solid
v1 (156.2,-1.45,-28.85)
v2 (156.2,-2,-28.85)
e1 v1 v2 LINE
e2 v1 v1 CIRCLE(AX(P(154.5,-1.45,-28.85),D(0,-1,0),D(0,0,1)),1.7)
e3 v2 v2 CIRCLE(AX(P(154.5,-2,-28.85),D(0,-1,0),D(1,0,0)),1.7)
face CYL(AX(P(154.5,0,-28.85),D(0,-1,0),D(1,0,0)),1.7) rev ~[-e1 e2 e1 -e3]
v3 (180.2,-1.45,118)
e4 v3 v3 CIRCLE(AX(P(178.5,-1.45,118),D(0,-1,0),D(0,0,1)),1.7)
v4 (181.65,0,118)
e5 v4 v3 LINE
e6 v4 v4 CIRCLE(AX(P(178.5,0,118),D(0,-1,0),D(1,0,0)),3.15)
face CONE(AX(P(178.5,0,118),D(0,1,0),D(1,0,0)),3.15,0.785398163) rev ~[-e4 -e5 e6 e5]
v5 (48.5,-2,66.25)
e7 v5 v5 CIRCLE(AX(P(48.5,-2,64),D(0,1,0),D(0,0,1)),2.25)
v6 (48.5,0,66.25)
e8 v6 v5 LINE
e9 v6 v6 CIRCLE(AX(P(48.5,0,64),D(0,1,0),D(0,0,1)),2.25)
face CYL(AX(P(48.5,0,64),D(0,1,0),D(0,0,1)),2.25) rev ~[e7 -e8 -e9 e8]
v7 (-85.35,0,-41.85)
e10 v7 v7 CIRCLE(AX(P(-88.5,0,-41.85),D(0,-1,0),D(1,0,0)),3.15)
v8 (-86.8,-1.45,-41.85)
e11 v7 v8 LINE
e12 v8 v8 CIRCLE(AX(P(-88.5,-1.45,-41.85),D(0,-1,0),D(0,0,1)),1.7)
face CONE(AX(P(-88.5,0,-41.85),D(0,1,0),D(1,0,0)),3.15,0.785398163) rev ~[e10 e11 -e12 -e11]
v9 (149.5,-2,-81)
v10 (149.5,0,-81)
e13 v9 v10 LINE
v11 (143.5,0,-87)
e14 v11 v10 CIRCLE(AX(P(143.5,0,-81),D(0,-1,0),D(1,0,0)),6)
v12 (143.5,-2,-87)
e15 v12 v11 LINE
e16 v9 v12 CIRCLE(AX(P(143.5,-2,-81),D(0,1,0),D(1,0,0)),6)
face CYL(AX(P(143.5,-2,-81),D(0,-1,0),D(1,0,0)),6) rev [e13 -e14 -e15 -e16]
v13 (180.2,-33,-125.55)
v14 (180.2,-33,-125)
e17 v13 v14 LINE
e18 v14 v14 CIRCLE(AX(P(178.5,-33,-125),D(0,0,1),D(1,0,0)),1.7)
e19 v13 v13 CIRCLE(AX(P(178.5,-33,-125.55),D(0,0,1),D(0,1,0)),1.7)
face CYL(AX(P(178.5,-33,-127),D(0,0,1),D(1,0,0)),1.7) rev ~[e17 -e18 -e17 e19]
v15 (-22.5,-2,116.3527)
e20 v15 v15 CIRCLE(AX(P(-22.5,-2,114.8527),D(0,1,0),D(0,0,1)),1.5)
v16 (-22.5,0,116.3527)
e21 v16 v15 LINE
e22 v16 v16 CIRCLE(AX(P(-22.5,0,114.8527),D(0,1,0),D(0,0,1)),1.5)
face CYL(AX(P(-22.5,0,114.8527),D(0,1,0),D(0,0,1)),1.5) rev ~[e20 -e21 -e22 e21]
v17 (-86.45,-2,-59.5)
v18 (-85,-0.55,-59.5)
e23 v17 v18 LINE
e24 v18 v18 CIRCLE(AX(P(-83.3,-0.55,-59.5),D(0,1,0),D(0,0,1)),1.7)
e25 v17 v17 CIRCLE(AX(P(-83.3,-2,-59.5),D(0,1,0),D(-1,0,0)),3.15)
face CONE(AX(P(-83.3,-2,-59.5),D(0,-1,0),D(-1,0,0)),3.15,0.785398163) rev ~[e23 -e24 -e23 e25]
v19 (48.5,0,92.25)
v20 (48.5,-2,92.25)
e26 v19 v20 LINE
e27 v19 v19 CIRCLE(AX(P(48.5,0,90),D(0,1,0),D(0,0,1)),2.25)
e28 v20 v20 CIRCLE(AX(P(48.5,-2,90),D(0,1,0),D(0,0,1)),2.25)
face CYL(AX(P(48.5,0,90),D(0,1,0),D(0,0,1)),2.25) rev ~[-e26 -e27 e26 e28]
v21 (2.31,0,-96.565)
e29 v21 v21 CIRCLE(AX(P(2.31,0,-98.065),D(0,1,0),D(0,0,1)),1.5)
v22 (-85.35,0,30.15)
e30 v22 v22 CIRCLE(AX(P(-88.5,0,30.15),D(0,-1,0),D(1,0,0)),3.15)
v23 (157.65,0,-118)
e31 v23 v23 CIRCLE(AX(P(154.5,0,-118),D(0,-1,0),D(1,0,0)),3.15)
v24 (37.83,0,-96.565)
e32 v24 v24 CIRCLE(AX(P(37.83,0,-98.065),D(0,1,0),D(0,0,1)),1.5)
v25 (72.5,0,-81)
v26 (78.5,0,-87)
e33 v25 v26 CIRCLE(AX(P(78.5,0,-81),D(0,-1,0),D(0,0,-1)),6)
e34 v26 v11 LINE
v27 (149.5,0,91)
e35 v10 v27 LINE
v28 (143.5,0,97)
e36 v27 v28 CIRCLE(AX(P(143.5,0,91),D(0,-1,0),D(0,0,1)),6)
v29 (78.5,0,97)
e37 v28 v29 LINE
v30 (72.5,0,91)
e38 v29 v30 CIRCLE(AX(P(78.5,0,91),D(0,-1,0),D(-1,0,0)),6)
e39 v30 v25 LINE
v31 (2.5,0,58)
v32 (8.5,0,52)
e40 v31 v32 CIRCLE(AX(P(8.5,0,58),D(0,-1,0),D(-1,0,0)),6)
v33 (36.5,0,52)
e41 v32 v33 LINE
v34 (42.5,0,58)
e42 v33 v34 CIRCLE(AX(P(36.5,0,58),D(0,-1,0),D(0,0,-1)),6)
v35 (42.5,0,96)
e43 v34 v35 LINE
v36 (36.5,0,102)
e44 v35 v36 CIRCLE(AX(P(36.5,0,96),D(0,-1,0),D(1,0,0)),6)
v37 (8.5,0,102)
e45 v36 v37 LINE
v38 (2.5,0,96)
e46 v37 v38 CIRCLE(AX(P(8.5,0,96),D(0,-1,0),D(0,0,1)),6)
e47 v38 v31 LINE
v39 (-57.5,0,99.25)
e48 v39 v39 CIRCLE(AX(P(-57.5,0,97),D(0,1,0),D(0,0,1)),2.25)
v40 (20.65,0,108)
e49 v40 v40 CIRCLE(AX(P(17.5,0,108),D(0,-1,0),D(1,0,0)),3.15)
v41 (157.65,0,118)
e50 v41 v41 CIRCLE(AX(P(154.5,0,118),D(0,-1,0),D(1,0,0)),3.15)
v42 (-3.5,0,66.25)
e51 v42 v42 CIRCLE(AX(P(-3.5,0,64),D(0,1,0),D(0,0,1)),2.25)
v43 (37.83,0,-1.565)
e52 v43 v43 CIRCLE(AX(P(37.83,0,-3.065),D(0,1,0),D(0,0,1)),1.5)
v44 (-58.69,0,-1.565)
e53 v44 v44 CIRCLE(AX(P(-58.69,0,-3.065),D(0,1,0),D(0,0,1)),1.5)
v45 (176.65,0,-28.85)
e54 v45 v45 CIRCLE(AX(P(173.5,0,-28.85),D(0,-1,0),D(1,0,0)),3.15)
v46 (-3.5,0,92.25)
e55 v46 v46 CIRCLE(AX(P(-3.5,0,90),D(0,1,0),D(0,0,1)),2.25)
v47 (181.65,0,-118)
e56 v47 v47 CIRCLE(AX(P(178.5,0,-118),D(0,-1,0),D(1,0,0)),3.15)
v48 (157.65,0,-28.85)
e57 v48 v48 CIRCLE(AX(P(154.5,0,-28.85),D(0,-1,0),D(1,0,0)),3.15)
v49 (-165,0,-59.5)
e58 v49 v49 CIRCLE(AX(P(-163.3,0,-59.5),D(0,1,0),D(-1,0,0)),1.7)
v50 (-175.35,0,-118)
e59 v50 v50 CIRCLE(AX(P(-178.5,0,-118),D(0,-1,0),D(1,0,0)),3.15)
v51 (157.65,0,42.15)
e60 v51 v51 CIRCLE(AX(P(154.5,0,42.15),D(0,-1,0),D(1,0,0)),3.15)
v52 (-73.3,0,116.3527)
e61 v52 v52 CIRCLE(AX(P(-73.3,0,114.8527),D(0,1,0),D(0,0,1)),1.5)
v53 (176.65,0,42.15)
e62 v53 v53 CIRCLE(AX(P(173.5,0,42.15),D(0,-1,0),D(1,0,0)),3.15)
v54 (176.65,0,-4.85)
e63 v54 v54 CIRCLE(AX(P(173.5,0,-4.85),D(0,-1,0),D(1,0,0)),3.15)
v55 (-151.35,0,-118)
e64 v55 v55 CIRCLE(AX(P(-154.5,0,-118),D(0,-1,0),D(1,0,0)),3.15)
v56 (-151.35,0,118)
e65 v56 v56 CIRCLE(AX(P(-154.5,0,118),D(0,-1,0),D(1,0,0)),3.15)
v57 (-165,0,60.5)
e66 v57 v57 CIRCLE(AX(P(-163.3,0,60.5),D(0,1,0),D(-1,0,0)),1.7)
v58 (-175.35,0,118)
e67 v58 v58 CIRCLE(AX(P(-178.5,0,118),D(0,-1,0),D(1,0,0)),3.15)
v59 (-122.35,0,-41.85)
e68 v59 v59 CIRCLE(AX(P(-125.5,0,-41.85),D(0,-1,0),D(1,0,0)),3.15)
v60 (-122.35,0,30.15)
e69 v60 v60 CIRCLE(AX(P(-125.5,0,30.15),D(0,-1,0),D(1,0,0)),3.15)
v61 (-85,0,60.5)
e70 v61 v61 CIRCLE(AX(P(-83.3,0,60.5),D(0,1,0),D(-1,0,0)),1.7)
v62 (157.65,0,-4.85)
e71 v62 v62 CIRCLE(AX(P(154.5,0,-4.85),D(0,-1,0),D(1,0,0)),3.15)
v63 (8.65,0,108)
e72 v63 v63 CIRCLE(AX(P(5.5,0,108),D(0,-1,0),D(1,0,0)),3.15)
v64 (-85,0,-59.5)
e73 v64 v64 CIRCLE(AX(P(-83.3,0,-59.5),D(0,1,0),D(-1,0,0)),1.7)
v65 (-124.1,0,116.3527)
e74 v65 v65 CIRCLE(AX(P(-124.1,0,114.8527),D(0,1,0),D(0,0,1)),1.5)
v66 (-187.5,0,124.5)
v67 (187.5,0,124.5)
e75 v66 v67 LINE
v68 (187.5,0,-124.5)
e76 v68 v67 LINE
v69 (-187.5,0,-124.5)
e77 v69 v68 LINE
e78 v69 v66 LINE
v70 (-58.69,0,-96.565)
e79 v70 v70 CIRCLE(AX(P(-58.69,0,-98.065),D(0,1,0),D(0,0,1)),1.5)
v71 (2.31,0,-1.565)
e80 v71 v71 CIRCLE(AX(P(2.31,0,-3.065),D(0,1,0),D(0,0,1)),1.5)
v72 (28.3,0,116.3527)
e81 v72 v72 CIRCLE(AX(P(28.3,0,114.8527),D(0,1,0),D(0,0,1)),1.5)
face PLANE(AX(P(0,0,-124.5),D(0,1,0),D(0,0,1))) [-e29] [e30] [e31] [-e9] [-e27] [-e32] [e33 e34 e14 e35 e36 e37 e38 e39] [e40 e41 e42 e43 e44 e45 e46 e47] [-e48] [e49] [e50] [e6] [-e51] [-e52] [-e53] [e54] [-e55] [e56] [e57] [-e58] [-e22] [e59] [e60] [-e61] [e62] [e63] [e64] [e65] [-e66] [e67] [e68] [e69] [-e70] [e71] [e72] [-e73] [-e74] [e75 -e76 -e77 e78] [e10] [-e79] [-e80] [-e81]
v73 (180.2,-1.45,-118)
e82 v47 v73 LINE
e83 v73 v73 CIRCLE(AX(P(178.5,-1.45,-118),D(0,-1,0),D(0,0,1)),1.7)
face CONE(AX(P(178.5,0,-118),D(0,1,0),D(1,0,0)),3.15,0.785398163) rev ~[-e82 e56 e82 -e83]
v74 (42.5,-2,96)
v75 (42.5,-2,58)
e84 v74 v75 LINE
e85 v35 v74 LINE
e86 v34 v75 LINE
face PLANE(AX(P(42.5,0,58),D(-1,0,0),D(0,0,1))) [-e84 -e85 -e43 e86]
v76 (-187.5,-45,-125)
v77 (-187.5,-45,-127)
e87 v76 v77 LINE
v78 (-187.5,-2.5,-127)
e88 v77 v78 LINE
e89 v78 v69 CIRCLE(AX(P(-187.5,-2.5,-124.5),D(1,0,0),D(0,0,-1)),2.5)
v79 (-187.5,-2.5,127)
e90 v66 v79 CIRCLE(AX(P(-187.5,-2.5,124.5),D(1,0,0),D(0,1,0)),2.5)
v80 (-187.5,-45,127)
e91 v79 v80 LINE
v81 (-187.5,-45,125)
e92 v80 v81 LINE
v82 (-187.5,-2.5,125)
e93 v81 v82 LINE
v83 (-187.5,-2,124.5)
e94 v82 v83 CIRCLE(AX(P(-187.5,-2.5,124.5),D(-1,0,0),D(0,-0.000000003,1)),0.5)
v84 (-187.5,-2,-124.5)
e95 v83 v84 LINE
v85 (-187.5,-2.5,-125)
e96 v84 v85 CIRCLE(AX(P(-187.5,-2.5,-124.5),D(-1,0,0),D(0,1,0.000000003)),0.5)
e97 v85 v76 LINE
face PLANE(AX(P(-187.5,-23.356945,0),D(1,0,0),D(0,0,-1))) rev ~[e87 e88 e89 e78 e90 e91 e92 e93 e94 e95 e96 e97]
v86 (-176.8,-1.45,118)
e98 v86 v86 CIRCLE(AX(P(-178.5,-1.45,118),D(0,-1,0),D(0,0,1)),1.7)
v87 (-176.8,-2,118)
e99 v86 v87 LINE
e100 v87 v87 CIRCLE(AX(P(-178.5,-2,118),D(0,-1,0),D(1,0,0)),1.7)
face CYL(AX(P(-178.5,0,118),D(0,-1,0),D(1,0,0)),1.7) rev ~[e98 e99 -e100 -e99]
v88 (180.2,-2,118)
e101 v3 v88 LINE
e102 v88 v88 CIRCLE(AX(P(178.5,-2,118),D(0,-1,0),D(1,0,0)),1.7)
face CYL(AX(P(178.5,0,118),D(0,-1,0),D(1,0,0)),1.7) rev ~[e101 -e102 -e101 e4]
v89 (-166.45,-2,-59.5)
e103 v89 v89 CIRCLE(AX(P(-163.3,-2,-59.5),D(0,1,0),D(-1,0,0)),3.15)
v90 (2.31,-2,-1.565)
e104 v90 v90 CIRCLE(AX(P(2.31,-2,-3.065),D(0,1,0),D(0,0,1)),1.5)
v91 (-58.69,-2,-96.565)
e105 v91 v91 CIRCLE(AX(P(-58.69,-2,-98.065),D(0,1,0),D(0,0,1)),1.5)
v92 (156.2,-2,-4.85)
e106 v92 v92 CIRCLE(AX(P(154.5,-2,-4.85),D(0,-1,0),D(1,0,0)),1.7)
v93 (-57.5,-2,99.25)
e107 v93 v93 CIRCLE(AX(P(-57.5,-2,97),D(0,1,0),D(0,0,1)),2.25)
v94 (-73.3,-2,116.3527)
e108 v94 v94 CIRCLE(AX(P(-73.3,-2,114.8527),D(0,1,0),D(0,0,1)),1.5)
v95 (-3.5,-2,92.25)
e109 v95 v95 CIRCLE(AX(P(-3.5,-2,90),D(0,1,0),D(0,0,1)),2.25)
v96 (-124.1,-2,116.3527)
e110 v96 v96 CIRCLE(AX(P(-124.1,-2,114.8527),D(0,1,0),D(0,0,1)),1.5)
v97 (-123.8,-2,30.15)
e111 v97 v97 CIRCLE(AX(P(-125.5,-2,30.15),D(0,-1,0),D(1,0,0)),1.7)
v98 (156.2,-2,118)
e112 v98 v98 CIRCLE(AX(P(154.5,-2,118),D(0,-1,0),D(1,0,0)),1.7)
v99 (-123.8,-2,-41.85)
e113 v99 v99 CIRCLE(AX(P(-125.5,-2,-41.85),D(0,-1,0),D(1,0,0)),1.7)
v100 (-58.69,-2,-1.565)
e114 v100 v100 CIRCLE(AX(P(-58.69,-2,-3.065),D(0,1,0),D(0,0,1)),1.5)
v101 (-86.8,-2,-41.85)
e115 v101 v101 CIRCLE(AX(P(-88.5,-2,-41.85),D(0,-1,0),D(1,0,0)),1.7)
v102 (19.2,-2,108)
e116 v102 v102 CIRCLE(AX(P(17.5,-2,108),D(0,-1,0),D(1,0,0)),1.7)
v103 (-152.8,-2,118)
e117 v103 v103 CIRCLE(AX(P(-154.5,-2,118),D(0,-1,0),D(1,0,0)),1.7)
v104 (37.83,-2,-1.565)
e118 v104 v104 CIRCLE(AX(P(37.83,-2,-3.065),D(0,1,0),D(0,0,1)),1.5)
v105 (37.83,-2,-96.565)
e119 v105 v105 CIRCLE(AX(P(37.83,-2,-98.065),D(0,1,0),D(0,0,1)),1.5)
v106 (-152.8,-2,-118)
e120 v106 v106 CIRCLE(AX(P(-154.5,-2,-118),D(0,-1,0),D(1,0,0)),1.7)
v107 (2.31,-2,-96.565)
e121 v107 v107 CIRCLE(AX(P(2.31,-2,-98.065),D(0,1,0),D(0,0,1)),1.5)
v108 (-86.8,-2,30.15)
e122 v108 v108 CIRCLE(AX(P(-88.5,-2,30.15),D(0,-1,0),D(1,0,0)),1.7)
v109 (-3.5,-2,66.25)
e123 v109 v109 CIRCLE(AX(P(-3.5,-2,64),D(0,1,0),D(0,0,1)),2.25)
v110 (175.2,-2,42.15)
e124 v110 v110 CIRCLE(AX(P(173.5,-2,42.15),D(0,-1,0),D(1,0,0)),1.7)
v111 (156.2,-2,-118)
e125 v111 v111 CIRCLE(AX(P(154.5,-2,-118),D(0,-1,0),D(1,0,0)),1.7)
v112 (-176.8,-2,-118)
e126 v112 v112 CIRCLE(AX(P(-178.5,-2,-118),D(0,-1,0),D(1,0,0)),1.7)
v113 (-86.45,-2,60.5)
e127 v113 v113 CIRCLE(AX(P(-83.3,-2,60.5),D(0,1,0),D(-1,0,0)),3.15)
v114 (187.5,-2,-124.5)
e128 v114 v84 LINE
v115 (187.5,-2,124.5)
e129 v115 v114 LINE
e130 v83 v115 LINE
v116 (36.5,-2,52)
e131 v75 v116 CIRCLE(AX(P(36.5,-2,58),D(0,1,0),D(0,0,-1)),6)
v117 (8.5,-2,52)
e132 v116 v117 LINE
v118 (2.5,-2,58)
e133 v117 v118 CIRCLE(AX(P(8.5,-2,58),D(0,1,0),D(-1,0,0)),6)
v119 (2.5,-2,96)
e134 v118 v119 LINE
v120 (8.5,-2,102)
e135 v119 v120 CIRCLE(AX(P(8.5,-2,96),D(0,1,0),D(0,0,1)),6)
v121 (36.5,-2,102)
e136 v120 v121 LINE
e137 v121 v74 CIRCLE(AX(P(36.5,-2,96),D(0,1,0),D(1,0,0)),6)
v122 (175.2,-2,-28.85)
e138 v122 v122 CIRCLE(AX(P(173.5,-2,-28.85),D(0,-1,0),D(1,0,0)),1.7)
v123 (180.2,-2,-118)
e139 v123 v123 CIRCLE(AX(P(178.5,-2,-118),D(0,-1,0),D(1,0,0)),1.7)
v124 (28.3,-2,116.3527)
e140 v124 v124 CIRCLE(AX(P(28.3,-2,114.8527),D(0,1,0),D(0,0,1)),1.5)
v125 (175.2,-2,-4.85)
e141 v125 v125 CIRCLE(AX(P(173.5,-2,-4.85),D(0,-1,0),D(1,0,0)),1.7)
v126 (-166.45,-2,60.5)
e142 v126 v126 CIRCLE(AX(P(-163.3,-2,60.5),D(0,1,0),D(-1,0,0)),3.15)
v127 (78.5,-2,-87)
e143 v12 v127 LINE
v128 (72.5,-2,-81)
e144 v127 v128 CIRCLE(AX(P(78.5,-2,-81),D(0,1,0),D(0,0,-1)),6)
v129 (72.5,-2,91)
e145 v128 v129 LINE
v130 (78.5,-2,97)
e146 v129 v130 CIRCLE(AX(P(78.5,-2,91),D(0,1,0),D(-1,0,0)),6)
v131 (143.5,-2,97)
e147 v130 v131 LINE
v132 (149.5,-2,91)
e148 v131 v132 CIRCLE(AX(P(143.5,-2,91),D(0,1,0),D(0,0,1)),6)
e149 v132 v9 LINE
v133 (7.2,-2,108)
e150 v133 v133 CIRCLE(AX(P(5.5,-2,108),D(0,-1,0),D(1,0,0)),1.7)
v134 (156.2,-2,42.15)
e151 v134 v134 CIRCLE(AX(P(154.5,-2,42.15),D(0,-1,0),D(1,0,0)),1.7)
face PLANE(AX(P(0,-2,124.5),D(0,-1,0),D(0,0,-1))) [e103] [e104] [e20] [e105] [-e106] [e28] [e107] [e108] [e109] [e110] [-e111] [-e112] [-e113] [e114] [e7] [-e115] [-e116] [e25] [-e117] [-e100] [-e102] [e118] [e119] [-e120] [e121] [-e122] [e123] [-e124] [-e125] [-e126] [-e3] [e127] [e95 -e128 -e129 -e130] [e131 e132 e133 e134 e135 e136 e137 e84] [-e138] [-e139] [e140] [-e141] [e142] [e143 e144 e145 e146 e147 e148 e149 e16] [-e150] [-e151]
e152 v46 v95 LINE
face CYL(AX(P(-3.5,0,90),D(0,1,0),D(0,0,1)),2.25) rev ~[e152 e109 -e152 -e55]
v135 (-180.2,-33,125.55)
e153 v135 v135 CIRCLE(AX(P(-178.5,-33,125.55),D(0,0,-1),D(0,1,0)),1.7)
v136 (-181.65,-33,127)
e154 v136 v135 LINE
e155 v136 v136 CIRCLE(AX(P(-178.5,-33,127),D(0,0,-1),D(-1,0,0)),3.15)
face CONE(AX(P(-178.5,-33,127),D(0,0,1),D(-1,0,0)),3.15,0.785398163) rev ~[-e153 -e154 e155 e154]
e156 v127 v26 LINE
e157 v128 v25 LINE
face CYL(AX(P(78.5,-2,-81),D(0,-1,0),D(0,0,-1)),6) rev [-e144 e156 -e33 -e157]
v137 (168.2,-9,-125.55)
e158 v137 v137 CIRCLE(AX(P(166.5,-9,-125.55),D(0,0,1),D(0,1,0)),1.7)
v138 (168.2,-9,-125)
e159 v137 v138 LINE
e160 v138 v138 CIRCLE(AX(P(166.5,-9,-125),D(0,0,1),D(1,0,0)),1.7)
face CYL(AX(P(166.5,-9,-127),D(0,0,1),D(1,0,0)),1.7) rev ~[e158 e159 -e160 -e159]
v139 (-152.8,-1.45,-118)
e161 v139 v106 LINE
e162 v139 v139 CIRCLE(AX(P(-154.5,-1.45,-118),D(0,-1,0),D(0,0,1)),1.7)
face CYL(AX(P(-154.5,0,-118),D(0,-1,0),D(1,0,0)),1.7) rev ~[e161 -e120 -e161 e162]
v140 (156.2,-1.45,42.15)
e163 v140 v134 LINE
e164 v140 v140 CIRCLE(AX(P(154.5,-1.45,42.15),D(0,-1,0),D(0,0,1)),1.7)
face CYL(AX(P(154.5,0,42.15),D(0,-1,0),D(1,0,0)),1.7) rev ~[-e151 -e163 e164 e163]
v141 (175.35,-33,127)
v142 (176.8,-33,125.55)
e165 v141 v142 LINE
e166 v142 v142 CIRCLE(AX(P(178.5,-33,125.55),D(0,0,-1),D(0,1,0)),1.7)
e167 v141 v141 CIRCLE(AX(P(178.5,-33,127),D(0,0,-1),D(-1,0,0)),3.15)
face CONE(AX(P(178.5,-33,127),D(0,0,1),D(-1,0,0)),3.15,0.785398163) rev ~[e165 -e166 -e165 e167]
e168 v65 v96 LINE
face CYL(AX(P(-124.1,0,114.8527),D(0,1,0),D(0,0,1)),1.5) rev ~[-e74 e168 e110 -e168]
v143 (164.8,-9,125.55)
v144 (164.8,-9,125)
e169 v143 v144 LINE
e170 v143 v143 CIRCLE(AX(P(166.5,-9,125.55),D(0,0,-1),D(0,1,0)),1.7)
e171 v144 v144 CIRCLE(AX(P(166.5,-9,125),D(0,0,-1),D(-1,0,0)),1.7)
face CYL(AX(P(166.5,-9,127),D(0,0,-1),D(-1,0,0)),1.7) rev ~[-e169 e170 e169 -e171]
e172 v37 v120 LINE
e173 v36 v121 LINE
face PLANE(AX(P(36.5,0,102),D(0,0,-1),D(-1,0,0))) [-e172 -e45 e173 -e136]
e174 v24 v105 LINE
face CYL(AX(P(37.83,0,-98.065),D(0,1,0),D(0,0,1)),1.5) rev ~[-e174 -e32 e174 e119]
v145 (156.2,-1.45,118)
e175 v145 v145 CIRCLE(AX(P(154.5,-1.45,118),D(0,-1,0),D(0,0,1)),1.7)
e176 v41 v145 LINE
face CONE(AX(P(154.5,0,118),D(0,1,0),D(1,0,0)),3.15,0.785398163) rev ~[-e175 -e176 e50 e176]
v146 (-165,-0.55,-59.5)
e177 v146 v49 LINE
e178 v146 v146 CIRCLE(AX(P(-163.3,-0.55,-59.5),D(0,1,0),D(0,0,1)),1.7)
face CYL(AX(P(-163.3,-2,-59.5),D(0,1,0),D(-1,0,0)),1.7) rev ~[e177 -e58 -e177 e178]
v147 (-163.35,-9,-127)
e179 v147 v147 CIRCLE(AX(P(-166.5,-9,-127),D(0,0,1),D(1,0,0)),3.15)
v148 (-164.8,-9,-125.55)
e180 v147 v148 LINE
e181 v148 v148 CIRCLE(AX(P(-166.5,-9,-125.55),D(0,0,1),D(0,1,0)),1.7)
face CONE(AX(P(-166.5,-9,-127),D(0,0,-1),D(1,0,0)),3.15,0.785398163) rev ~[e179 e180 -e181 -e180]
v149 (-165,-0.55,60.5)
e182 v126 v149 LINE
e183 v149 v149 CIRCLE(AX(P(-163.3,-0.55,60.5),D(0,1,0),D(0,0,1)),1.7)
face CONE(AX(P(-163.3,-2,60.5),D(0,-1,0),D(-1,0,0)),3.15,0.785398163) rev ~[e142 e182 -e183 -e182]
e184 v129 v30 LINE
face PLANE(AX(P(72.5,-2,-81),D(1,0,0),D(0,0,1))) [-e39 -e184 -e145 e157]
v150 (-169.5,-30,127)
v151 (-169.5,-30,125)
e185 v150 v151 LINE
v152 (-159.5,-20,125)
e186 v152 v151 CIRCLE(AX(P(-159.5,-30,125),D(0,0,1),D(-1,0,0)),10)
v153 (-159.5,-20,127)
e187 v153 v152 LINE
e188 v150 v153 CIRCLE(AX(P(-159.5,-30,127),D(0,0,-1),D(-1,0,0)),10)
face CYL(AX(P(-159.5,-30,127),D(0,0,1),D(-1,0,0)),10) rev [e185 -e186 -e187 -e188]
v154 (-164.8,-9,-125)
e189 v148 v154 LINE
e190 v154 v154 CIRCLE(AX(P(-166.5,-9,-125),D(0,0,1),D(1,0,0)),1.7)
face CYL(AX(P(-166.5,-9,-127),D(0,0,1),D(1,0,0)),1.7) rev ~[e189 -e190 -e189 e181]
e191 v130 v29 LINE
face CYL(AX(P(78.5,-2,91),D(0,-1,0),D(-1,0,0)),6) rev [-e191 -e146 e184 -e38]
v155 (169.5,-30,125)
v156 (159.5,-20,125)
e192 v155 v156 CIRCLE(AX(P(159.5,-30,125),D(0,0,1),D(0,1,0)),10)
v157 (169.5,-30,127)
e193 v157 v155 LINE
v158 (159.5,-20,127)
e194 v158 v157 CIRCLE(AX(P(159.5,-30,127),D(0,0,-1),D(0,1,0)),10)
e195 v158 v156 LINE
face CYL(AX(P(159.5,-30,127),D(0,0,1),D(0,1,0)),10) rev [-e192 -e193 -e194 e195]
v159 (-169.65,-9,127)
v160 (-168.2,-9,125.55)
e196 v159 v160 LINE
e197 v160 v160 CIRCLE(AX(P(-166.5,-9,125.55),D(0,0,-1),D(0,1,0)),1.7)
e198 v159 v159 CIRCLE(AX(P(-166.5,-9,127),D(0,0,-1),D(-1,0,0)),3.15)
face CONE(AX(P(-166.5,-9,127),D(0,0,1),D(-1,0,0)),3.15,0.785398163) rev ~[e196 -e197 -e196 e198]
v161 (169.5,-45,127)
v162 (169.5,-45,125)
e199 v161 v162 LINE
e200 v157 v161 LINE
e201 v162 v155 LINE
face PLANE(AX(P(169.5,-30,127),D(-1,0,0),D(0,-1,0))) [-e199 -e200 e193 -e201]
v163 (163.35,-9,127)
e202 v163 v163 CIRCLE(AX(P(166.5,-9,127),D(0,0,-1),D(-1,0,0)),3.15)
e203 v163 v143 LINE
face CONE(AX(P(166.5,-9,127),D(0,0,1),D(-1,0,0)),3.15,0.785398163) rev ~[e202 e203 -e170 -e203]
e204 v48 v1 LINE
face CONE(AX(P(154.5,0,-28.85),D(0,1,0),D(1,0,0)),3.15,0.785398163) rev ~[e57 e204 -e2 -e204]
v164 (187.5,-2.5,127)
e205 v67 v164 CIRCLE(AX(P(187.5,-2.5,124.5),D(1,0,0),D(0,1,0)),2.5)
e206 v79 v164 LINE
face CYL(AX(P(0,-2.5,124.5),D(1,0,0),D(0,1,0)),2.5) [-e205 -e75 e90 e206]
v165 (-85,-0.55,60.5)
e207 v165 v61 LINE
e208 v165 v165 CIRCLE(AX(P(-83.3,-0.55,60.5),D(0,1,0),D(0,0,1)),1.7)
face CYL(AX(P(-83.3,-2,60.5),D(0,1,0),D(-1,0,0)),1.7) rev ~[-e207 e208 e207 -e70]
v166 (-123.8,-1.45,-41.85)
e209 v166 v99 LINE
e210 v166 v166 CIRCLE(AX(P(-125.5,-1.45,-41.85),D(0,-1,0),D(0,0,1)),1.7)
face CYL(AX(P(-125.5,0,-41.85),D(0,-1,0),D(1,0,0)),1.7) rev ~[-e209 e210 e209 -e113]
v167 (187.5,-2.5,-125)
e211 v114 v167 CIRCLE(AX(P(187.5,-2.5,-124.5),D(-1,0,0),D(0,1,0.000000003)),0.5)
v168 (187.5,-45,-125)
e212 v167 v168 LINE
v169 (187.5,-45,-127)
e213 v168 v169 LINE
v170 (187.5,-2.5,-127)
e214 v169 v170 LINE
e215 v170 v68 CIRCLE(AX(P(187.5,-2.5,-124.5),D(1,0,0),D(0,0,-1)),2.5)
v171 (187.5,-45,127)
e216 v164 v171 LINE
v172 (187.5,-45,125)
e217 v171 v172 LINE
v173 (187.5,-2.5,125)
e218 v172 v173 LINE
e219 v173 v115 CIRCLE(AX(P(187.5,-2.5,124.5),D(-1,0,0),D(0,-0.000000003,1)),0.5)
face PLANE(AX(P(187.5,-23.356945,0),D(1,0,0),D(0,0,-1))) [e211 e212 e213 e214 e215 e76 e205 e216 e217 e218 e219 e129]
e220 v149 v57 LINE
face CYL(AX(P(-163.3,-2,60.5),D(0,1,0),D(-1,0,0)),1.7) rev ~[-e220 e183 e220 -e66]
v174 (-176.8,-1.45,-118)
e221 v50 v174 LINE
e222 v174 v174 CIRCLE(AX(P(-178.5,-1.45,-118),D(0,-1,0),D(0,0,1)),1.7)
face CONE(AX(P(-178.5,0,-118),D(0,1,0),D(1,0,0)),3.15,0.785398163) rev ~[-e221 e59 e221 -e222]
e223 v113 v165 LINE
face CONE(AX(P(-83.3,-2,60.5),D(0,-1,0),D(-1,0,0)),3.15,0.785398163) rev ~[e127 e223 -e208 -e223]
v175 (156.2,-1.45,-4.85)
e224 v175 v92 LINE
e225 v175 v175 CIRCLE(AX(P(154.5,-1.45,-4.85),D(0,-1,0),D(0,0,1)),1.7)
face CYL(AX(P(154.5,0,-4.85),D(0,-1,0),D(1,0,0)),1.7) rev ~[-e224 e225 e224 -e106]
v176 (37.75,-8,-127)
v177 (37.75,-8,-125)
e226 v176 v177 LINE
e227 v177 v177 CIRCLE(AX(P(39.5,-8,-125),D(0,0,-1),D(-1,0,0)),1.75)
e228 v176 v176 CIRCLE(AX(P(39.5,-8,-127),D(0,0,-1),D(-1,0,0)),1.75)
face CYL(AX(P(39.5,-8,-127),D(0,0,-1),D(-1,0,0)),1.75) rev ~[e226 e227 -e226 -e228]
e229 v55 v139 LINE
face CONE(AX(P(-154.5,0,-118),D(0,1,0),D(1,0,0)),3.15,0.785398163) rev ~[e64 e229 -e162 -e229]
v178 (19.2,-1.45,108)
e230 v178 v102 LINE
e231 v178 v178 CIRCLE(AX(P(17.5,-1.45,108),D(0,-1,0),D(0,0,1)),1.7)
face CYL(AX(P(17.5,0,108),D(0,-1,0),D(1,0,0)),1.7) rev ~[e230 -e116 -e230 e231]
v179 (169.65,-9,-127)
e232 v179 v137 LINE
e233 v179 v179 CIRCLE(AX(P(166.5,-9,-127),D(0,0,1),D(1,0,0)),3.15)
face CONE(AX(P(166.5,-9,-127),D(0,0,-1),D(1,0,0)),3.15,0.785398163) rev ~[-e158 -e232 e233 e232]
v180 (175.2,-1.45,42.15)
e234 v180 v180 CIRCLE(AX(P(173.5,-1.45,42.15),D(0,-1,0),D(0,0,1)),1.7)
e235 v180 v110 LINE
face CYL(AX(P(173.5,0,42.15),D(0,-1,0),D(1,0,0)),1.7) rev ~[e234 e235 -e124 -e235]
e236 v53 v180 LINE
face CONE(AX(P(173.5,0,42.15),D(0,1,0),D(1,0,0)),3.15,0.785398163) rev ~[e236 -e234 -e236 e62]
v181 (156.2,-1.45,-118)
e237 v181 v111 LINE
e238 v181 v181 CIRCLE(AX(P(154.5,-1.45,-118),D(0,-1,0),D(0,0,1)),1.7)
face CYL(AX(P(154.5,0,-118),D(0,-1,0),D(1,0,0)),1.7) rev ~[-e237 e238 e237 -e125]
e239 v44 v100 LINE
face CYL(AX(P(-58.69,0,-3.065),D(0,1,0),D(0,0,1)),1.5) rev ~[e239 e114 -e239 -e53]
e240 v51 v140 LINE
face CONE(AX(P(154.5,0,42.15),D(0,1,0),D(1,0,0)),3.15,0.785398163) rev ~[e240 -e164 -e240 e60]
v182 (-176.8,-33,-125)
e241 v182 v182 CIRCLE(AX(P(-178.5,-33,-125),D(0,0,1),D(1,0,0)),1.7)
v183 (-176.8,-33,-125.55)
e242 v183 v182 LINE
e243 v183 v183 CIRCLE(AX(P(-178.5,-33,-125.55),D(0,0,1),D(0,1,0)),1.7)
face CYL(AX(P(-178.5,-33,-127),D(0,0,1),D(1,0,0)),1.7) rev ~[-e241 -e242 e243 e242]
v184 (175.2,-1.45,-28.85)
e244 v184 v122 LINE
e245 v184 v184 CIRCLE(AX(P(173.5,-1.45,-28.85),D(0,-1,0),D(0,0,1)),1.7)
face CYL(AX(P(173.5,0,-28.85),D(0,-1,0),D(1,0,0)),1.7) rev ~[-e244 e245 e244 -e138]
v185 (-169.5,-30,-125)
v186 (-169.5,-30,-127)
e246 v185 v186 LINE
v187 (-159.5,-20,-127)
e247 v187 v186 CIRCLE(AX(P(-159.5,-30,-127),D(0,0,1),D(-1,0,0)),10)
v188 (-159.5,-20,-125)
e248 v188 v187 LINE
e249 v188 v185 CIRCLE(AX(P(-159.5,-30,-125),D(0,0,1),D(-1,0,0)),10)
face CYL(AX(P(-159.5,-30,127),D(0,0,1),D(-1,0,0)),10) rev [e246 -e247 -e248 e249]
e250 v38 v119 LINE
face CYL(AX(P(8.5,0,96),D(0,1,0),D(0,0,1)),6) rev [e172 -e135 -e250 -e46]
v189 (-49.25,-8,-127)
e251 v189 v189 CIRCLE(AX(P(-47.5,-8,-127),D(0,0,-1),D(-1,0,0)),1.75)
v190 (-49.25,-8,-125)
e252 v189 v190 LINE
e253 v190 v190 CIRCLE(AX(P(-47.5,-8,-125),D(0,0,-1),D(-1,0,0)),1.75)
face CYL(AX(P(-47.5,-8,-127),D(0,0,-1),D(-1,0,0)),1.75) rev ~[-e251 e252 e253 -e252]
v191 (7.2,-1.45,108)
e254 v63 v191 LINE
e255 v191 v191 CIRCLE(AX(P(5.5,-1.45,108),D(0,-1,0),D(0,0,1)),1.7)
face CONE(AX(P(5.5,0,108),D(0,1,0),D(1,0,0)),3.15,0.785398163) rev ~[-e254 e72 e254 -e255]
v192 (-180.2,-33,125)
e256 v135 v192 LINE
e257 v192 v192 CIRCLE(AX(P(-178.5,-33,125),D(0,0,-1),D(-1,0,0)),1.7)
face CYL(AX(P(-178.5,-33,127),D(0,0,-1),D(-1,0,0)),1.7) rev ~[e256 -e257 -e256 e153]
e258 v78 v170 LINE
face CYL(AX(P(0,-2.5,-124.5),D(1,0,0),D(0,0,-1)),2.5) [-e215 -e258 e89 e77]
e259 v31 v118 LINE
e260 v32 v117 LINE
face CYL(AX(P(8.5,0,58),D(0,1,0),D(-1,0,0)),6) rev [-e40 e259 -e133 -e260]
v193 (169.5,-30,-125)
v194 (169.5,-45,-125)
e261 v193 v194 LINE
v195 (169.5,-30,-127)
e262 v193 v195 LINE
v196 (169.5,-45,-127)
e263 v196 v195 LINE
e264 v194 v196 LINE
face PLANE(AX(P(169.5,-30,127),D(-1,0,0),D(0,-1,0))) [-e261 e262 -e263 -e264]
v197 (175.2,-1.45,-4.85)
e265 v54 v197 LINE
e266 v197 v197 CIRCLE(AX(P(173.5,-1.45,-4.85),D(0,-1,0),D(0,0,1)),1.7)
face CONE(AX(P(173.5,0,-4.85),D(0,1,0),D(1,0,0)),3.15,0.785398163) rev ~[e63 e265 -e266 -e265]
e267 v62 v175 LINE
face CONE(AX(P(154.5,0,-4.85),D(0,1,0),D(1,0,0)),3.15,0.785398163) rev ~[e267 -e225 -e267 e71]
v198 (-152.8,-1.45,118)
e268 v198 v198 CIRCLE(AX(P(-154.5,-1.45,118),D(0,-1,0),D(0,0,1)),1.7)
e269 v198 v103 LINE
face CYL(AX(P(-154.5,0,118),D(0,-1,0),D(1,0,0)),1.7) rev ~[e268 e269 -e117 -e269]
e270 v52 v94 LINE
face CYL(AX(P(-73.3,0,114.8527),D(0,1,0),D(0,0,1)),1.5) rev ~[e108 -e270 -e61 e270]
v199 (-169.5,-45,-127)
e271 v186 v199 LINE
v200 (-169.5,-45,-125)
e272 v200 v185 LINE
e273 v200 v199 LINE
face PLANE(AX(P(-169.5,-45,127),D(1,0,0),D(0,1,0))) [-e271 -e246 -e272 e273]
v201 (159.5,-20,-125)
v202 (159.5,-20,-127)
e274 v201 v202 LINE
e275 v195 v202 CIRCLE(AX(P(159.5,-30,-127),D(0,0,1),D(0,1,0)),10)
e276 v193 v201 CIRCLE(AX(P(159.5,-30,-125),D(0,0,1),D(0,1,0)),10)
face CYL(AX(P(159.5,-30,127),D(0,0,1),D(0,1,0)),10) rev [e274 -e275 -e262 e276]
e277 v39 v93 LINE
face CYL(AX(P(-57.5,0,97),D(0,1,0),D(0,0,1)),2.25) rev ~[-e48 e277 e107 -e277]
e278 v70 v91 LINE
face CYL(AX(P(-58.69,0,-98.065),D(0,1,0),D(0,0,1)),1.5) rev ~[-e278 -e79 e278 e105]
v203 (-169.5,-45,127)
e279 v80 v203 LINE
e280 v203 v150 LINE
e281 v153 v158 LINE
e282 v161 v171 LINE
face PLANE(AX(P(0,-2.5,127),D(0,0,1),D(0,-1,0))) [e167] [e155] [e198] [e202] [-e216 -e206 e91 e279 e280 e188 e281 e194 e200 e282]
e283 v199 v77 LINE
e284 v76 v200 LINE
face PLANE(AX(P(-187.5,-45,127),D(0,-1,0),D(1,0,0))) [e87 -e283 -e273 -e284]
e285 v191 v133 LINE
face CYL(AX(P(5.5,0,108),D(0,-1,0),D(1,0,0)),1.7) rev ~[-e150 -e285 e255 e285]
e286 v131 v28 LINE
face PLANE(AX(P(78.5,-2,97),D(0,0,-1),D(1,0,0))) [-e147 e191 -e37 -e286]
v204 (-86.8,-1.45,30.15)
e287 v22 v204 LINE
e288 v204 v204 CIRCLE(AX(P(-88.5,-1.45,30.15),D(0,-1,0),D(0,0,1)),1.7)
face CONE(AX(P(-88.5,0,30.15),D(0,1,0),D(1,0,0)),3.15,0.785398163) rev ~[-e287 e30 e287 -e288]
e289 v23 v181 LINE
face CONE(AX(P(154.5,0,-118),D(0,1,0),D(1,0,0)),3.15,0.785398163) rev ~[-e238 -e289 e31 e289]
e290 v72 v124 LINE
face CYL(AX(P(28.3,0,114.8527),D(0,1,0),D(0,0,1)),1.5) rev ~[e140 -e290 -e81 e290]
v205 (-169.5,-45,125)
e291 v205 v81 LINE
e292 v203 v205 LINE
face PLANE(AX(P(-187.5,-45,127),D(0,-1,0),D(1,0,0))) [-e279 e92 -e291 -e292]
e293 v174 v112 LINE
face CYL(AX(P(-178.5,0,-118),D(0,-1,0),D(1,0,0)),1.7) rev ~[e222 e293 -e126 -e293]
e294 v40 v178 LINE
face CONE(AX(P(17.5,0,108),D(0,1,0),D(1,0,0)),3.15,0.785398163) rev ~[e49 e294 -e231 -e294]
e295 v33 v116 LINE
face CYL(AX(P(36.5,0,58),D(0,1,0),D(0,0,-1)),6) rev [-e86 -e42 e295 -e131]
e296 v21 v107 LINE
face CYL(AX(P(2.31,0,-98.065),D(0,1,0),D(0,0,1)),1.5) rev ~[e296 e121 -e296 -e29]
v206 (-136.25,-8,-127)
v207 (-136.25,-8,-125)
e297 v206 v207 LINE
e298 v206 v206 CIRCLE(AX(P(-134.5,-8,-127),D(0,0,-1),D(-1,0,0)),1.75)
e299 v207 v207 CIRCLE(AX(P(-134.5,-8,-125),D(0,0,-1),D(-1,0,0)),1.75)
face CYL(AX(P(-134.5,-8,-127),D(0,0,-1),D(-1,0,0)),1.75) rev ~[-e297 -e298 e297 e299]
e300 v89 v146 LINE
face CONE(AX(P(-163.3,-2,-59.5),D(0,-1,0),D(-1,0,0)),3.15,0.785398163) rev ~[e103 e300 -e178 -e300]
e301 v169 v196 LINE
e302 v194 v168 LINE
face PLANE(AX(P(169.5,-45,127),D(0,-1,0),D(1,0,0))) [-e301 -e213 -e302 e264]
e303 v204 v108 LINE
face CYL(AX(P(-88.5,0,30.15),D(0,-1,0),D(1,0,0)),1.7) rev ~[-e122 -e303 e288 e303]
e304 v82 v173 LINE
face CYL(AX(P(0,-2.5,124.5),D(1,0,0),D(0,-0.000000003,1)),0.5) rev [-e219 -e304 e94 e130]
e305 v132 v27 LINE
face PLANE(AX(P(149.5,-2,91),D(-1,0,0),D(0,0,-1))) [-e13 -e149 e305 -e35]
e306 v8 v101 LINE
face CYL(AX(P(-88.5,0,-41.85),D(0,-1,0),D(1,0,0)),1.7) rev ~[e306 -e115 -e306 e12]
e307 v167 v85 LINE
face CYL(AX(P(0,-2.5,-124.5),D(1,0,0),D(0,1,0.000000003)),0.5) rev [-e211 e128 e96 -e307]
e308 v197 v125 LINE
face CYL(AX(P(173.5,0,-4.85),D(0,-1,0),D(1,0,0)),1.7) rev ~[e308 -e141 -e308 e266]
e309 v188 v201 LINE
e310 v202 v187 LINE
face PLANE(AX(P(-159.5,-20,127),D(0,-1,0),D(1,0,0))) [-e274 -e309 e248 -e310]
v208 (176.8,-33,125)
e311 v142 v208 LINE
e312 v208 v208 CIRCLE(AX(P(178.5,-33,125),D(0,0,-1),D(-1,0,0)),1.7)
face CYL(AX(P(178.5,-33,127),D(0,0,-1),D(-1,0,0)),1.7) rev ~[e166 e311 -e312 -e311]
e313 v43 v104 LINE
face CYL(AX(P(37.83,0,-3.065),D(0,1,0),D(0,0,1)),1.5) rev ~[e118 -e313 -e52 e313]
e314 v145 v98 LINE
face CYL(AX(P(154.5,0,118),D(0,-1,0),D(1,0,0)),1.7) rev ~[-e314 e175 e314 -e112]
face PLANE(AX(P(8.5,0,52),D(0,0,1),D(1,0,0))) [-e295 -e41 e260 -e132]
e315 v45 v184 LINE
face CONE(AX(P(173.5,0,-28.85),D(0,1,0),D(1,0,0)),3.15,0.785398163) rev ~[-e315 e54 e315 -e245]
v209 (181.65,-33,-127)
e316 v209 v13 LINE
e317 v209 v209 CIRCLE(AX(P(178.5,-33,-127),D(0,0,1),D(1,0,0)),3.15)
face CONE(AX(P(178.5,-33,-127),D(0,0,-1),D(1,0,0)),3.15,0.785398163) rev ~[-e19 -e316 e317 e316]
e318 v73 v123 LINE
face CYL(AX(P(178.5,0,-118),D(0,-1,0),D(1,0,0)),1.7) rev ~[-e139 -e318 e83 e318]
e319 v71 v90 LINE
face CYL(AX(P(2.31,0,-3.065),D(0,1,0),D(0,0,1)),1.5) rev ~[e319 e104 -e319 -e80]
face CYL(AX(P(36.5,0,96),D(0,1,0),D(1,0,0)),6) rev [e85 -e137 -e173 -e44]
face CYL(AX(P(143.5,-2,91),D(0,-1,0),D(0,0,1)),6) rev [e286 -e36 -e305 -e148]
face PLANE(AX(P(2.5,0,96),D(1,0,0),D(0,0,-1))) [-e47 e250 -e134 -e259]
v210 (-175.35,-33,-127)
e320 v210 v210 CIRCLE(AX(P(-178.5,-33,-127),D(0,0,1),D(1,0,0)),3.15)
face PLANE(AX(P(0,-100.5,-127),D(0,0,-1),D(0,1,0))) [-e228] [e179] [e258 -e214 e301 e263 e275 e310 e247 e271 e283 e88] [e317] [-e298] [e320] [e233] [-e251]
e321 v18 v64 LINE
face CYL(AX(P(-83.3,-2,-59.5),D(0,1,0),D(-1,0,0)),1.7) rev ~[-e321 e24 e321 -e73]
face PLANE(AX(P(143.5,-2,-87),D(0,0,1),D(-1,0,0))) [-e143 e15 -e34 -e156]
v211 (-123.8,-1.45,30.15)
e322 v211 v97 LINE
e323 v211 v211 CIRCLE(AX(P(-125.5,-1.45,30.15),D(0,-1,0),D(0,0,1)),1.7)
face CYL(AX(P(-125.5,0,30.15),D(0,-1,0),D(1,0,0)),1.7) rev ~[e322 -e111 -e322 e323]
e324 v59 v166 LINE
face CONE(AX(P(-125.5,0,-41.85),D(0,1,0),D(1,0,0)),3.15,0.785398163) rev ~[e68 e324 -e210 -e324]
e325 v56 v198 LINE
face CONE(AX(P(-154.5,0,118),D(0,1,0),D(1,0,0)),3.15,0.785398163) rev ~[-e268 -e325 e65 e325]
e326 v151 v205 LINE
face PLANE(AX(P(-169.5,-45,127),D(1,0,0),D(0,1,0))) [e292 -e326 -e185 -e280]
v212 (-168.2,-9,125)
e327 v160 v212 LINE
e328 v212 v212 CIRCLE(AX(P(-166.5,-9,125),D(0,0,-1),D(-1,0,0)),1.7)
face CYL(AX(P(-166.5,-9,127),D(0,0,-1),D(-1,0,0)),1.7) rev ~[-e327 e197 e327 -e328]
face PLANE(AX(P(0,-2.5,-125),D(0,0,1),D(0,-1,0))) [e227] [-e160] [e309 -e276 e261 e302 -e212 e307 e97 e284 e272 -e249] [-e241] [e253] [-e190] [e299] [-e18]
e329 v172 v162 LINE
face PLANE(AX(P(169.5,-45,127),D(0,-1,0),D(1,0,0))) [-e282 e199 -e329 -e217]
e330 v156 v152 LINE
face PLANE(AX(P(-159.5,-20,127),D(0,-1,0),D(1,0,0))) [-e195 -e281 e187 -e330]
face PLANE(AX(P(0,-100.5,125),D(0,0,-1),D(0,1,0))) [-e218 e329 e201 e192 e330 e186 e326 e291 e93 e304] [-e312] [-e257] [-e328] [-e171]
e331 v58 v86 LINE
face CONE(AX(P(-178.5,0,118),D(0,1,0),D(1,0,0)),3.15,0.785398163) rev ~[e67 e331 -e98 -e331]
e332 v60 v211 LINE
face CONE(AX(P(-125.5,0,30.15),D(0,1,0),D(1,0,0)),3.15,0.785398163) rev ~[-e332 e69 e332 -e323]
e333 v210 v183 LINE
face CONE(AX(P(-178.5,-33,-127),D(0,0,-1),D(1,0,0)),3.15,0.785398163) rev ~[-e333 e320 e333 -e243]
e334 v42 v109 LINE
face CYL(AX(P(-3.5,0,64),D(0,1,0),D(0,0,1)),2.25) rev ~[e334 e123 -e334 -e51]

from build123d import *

# Parameters (mm, degrees)
BOSS_EXTRUDE1_DEPTH                             = 187.5
CUT_EXTRUDE1_DEPTH                              = 255
CUT_EXTRUDE4_DEPTH                              = 10
SKETCH6_R                                       = 1.5
CUT_EXTRUDE5_DEPTH                              = 255
SKETCH9_R                                       = 1.5
CUT_EXTRUDE8_DEPTH                              = 10
SKETCH19_R                                      = 1.5
CUT_EXTRUDE9_DEPTH                              = 10
SKETCH20_R                                      = 1.75
CUT_EXTRUDE10_DEPTH                             = 10
CSK_FOR_M3_FLAT_HEAD_MACHINE_SCREW1_D           = 3.4
CSK_FOR_M3_FLAT_HEAD_MACHINE_SCREW1_DEPTH       = 10
CSK_FOR_M3_FLAT_HEAD_MACHINE_SCREW1_CSINK_D     = 6.3
CSK_FOR_M3_FLAT_HEAD_MACHINE_SCREW1_CSINK_ANGLE = 90
CSK_FOR_M3_FLAT_HEAD_MACHINE_SCREW1_TIP         = 1.021463052
CSK_FOR_M3_FLAT_HEAD_MACHINE_SCREW2_D           = 3.4
CSK_FOR_M3_FLAT_HEAD_MACHINE_SCREW2_DEPTH       = 10
CSK_FOR_M3_FLAT_HEAD_MACHINE_SCREW2_CSINK_D     = 6.3
CSK_FOR_M3_FLAT_HEAD_MACHINE_SCREW2_CSINK_ANGLE = 90
CSK_FOR_M3_FLAT_HEAD_MACHINE_SCREW2_TIP         = 1.021463052
CSK_FOR_M3_FLAT_HEAD_MACHINE_SCREW3_D           = 3.4
CSK_FOR_M3_FLAT_HEAD_MACHINE_SCREW3_DEPTH       = 10
CSK_FOR_M3_FLAT_HEAD_MACHINE_SCREW3_CSINK_D     = 6.3
CSK_FOR_M3_FLAT_HEAD_MACHINE_SCREW3_CSINK_ANGLE = 90
CSK_FOR_M3_FLAT_HEAD_MACHINE_SCREW3_TIP         = 1.021463052
SKETCH28_R                                      = 2.25
CUT_EXTRUDE11_DEPTH                             = 10
CSK_FOR_M3_FLAT_HEAD_MACHINE_SCREW4_D           = 3.4
CSK_FOR_M3_FLAT_HEAD_MACHINE_SCREW4_DEPTH       = 10
CSK_FOR_M3_FLAT_HEAD_MACHINE_SCREW4_CSINK_D     = 6.3
CSK_FOR_M3_FLAT_HEAD_MACHINE_SCREW4_CSINK_ANGLE = 90
CSK_FOR_M3_FLAT_HEAD_MACHINE_SCREW4_TIP         = 1.021463052
SKETCH31_R                                      = 2.25
SKETCH31_R_2                                    = 1.5
CUT_EXTRUDE12_DEPTH                             = 10
CSK_FOR_M3_FLAT_HEAD_MACHINE_SCREW5_D           = 3.4
CSK_FOR_M3_FLAT_HEAD_MACHINE_SCREW5_DEPTH       = 10
CSK_FOR_M3_FLAT_HEAD_MACHINE_SCREW5_CSINK_D     = 6.3
CSK_FOR_M3_FLAT_HEAD_MACHINE_SCREW5_CSINK_ANGLE = 90
CSK_FOR_M3_FLAT_HEAD_MACHINE_SCREW5_TIP         = 1.021463052


with BuildPart() as part:
    # Sketch1 → Boss-Extrude1 (new body, symmetric)
    with BuildSketch(Plane(origin=(0, 0, 0), x_dir=(0, 0, -1), z_dir=(1, 0, 0))):
        with BuildLine():
            Line((125, -100.5), (127, -100.5))
            Line((127, -100.5), (127, -2.5))
            ThreePointArc((127, -2.5), (126.267766953, -0.732233047), (124.5, 0))
            Line((124.5, 0), (-124.5, 0))
            ThreePointArc((-124.5, 0), (-126.267766953, -0.732233047), (-127, -2.5))
            Line((-127, -2.5), (-127, -100.5))
            Line((-127, -100.5), (-125, -100.5))
            Line((-125, -100.5), (-125, -2.5))
            ThreePointArc((-125, -2.5), (-124.853553391, -2.146446609), (-124.5, -2))
            Line((-124.5, -2), (124.5, -2))
            ThreePointArc((124.5, -2), (124.853553391, -2.146446609), (125, -2.5))
            Line((125, -2.5), (125, -100.5))
        make_face()
    extrude(amount=BOSS_EXTRUDE1_DEPTH, both=True)

    # Sketch2 → Cut-Extrude1 (cut, through all)
    with BuildSketch(Plane.XY.offset(127)):
        with BuildLine():
            Line((187.5, -45), (187.5, -100.5))
            Line((187.5, -100.5), (-187.5, -100.5))
            Line((-187.5, -100.5), (-187.5, -45))
            Line((-187.5, -45), (-169.5, -45))
            Line((-169.5, -45), (-169.5, -30))
            ThreePointArc((-169.5, -30), (-166.571067812, -22.928932188), (-159.5, -20))
            Line((-159.5, -20), (159.5, -20))
            ThreePointArc((159.5, -20), (166.571067812, -22.928932188), (169.5, -30))
            Line((169.5, -30), (169.5, -45))
            Line((169.5, -45), (187.5, -45))
        make_face()
    extrude(amount=-CUT_EXTRUDE1_DEPTH, mode=Mode.SUBTRACT)

    # Sketch5 → Cut-Extrude4 (cut)
    with BuildSketch(Plane.XZ.offset(2)):
        with BuildLine():
            Line((78.5, 97), (143.5, 97))
            ThreePointArc((143.5, 97), (147.742640687, 95.242640687), (149.5, 91))
            Line((149.5, 91), (149.5, -81))
            ThreePointArc((149.5, -81), (147.742640687, -85.242640687), (143.5, -87))
            Line((143.5, -87), (78.5, -87))
            ThreePointArc((78.5, -87), (74.257359313, -85.242640687), (72.5, -81))
            Line((72.5, -81), (72.5, 91))
            ThreePointArc((72.5, 91), (74.257359313, 95.242640687), (78.5, 97))
        make_face()
    extrude(amount=-CUT_EXTRUDE4_DEPTH, mode=Mode.SUBTRACT)

    # Sketch6 → Cut-Extrude5 (cut, through all)
    with BuildSketch(Plane(origin=(0, 0, -127), x_dir=(-1, 0, 0), z_dir=(0, 0, -1))):
        with Locations((-178.5, -33)):
            Circle(SKETCH6_R)
        with Locations((-166.5, -9)):
            Circle(SKETCH6_R)
        with Locations((166.5, -9)):
            Circle(SKETCH6_R)
        with Locations((178.5, -33)):
            Circle(SKETCH6_R)
    extrude(amount=-CUT_EXTRUDE5_DEPTH, mode=Mode.SUBTRACT)

    # Sketch9 → Cut-Extrude8 (cut)
    with BuildSketch(Plane(origin=(0, 0, 0), x_dir=(1, 0, 0), z_dir=(0, 1, 0))):
        with Locations(Location((-178.5, 118, 0), (0, 0, 270))):  # turned: the seam where the file's is
            Circle(SKETCH9_R)
        with Locations(Location((-154.5, 118, 0), (0, 0, 270))):  # turned: the seam where the file's is
            Circle(SKETCH9_R)
        with Locations(Location((154.5, 118, 0), (0, 0, 270))):  # turned: the seam where the file's is
            Circle(SKETCH9_R)
        with Locations(Location((178.5, 118, 0), (0, 0, 270))):  # turned: the seam where the file's is
            Circle(SKETCH9_R)
        with Locations(Location((178.5, -118, 0), (0, 0, 270))):  # turned: the seam where the file's is
            Circle(SKETCH9_R)
        with Locations(Location((154.5, -118, 0), (0, 0, 270))):  # turned: the seam where the file's is
            Circle(SKETCH9_R)
        with Locations(Location((-154.5, -118, 0), (0, 0, 270))):  # turned: the seam where the file's is
            Circle(SKETCH9_R)
        with Locations(Location((-178.5, -118, 0), (0, 0, 270))):  # turned: the seam where the file's is
            Circle(SKETCH9_R)
        with Locations(Location((-125.5, 41.85, 0), (0, 0, 270))):  # turned: the seam where the file's is
            Circle(SKETCH9_R)
        with Locations(Location((-88.5, 41.85, 0), (0, 0, 270))):  # turned: the seam where the file's is
            Circle(SKETCH9_R)
        with Locations(Location((-125.5, -30.15, 0), (0, 0, 270))):  # turned: the seam where the file's is
            Circle(SKETCH9_R)
        with Locations(Location((-88.5, -30.15, 0), (0, 0, 270))):  # turned: the seam where the file's is
            Circle(SKETCH9_R)
        with Locations(Location((154.5, 28.85, 0), (0, 0, 270))):  # turned: the seam where the file's is
            Circle(SKETCH9_R)
        with Locations(Location((173.5, 4.85, 0), (0, 0, 270))):  # turned: the seam where the file's is
            Circle(SKETCH9_R)
        with Locations(Location((154.5, 4.85, 0), (0, 0, 270))):  # turned: the seam where the file's is
            Circle(SKETCH9_R)
        with Locations(Location((173.5, 28.85, 0), (0, 0, 270))):  # turned: the seam where the file's is
            Circle(SKETCH9_R)
        with Locations(Location((154.5, -42.15, 0), (0, 0, 270))):  # turned: the seam where the file's is
            Circle(SKETCH9_R)
        with Locations(Location((173.5, -42.15, 0), (0, 0, 270))):  # turned: the seam where the file's is
            Circle(SKETCH9_R)
    extrude(amount=-CUT_EXTRUDE8_DEPTH, mode=Mode.SUBTRACT)

    # Sketch19 → Cut-Extrude9 (cut)
    with BuildSketch(Plane(origin=(0, 0, 0), x_dir=(1, 0, 0), z_dir=(0, 1, 0))):
        with Locations(Location((2.31, 98.065, 0), (0, 0, 270))):  # turned: the seam where the file's is
            Circle(SKETCH19_R)
        with Locations(Location((-58.69, 98.065, 0), (0, 0, 270))):  # turned: the seam where the file's is
            Circle(SKETCH19_R)
        with Locations(Location((37.83, 98.065, 0), (0, 0, 270))):  # turned: the seam where the file's is
            Circle(SKETCH19_R)
        with Locations(Location((-58.69, 3.065, 0), (0, 0, 270))):  # turned: the seam where the file's is
            Circle(SKETCH19_R)
        with Locations(Location((37.83, 3.065, 0), (0, 0, 270))):  # turned: the seam where the file's is
            Circle(SKETCH19_R)
        with Locations(Location((2.31, 3.065, 0), (0, 0, 270))):  # turned: the seam where the file's is
            Circle(SKETCH19_R)
        with Locations(Location((-163.3, 59.5, 0), (0, 0, 270))):  # turned: the seam where the file's is
            Circle(SKETCH19_R)
        with Locations(Location((-163.3, -60.5, 0), (0, 0, 270))):  # turned: the seam where the file's is
            Circle(SKETCH19_R)
        with Locations(Location((-83.3, -60.5, 0), (0, 0, 270))):  # turned: the seam where the file's is
            Circle(SKETCH19_R)
        with Locations(Location((-83.3, 59.5, 0), (0, 0, 270))):  # turned: the seam where the file's is
            Circle(SKETCH19_R)
        with Locations(Location((-124.1, -114.8527, 0), (0, 0, 270))):  # turned: the seam where the file's is
            Circle(SKETCH19_R)
        with Locations(Location((-73.3, -114.8527, 0), (0, 0, 270))):  # turned: the seam where the file's is
            Circle(SKETCH19_R)
        with Locations(Location((-22.5, -114.8527, 0), (0, 0, 270))):  # turned: the seam where the file's is
            Circle(SKETCH19_R)
        with Locations(Location((28.3, -114.8527, 0), (0, 0, 270))):  # turned: the seam where the file's is
            Circle(SKETCH19_R)
    extrude(amount=-CUT_EXTRUDE9_DEPTH, mode=Mode.SUBTRACT)

    # Sketch20 → Cut-Extrude10 (cut)
    with BuildSketch(Plane(origin=(0, 0, -127), x_dir=(-1, 0, 0), z_dir=(0, 0, -1))):
        with Locations((-39.5, -8)):
            Circle(SKETCH20_R)
        with Locations((47.5, -8)):
            Circle(SKETCH20_R)
        with Locations((134.5, -8)):
            Circle(SKETCH20_R)
    extrude(amount=-CUT_EXTRUDE10_DEPTH, mode=Mode.SUBTRACT)

    # CSK for M3 Flat Head Machine Screw1
    with Locations(Plane.XY.offset(127)):
        with Locations((-166.5, -9), (166.5, -9), (178.5, -33), (-178.5, -33)):
            CounterSinkHole(CSK_FOR_M3_FLAT_HEAD_MACHINE_SCREW1_D / 2, CSK_FOR_M3_FLAT_HEAD_MACHINE_SCREW1_CSINK_D / 2, depth=CSK_FOR_M3_FLAT_HEAD_MACHINE_SCREW1_DEPTH, counter_sink_angle=CSK_FOR_M3_FLAT_HEAD_MACHINE_SCREW1_CSINK_ANGLE)
            with Locations((0, 0, -(CSK_FOR_M3_FLAT_HEAD_MACHINE_SCREW1_DEPTH + CSK_FOR_M3_FLAT_HEAD_MACHINE_SCREW1_TIP / 2))):  # 118° drill point
                Cone(0, CSK_FOR_M3_FLAT_HEAD_MACHINE_SCREW1_D / 2, CSK_FOR_M3_FLAT_HEAD_MACHINE_SCREW1_TIP, mode=Mode.SUBTRACT)

    # CSK for M3 Flat Head Machine Screw2
    with Locations(Plane(origin=(0, 0, -127), x_dir=(-1, 0, 0), z_dir=(0, 0, -1))):
        with Locations((-166.5, -9), (178.5, -33), (166.5, -9), (-178.5, -33)):
            CounterSinkHole(CSK_FOR_M3_FLAT_HEAD_MACHINE_SCREW2_D / 2, CSK_FOR_M3_FLAT_HEAD_MACHINE_SCREW2_CSINK_D / 2, depth=CSK_FOR_M3_FLAT_HEAD_MACHINE_SCREW2_DEPTH, counter_sink_angle=CSK_FOR_M3_FLAT_HEAD_MACHINE_SCREW2_CSINK_ANGLE)
            with Locations((0, 0, -(CSK_FOR_M3_FLAT_HEAD_MACHINE_SCREW2_DEPTH + CSK_FOR_M3_FLAT_HEAD_MACHINE_SCREW2_TIP / 2))):  # 118° drill point
                Cone(0, CSK_FOR_M3_FLAT_HEAD_MACHINE_SCREW2_D / 2, CSK_FOR_M3_FLAT_HEAD_MACHINE_SCREW2_TIP, mode=Mode.SUBTRACT)

    # CSK for M3 Flat Head Machine Screw3
    with Locations(Plane(origin=(0, 0, 0), x_dir=(-1, 0, 0), z_dir=(0, 1, 0))):
        with Locations((88.5, -41.85), (178.5, -118), (154.5, -118), (125.5, -41.85), (125.5, 30.15), (88.5, 30.15), (178.5, 118), (154.5, 118), (-154.5, 118), (-178.5, 118), (-154.5, 42.15), (-173.5, 42.15), (-173.5, -4.85), (-154.5, -4.85), (-173.5, -28.85), (-154.5, -28.85), (-178.5, -118), (-154.5, -118)):
            CounterSinkHole(CSK_FOR_M3_FLAT_HEAD_MACHINE_SCREW3_D / 2, CSK_FOR_M3_FLAT_HEAD_MACHINE_SCREW3_CSINK_D / 2, depth=CSK_FOR_M3_FLAT_HEAD_MACHINE_SCREW3_DEPTH, counter_sink_angle=CSK_FOR_M3_FLAT_HEAD_MACHINE_SCREW3_CSINK_ANGLE)
            with Locations((0, 0, -(CSK_FOR_M3_FLAT_HEAD_MACHINE_SCREW3_DEPTH + CSK_FOR_M3_FLAT_HEAD_MACHINE_SCREW3_TIP / 2))):  # 118° drill point
                Cone(0, CSK_FOR_M3_FLAT_HEAD_MACHINE_SCREW3_D / 2, CSK_FOR_M3_FLAT_HEAD_MACHINE_SCREW3_TIP, mode=Mode.SUBTRACT)

    # Sketch28 → Cut-Extrude11 (cut)
    with BuildSketch(Plane(origin=(0, 0, 0), x_dir=(-1, 0, 0), z_dir=(0, 1, 0))):
        with Locations(Location((57.5, 97, 0), (0, 0, 90))):  # turned: the seam where the file's is
            Circle(SKETCH28_R)
        with BuildLine():
            Line((-8.5, 52), (-36.5, 52))
            ThreePointArc((-36.5, 52), (-40.742640687, 53.757359313), (-42.5, 58))
            Line((-42.5, 58), (-42.5, 96))
            ThreePointArc((-42.5, 96), (-40.742640687, 100.242640687), (-36.5, 102))
            Line((-36.5, 102), (-8.5, 102))
            ThreePointArc((-8.5, 102), (-4.257359313, 100.242640687), (-2.5, 96))
            Line((-2.5, 96), (-2.5, 58))
            ThreePointArc((-2.5, 58), (-4.257359313, 53.757359313), (-8.5, 52))
        make_face()
    extrude(amount=-CUT_EXTRUDE11_DEPTH, mode=Mode.SUBTRACT)

    # CSK for M3 Flat Head Machine Screw4
    with Locations(Plane.XZ.offset(2)):
        with Locations((-163.3, -59.5), (-163.3, 60.5), (-83.3, 60.5), (-83.3, -59.5)):
            CounterSinkHole(CSK_FOR_M3_FLAT_HEAD_MACHINE_SCREW4_D / 2, CSK_FOR_M3_FLAT_HEAD_MACHINE_SCREW4_CSINK_D / 2, depth=CSK_FOR_M3_FLAT_HEAD_MACHINE_SCREW4_DEPTH, counter_sink_angle=CSK_FOR_M3_FLAT_HEAD_MACHINE_SCREW4_CSINK_ANGLE)
            with Locations((0, 0, -(CSK_FOR_M3_FLAT_HEAD_MACHINE_SCREW4_DEPTH + CSK_FOR_M3_FLAT_HEAD_MACHINE_SCREW4_TIP / 2))):  # 118° drill point
                Cone(0, CSK_FOR_M3_FLAT_HEAD_MACHINE_SCREW4_D / 2, CSK_FOR_M3_FLAT_HEAD_MACHINE_SCREW4_TIP, mode=Mode.SUBTRACT)

    # Sketch31 → Cut-Extrude12 (cut)
    with BuildSketch(Plane(origin=(0, 0, 0), x_dir=(1, 0, 0), z_dir=(0, 1, 0))):
        with Locations(Location((-3.5, -64, 0), (0, 0, 270))):  # turned: the seam where the file's is
            Circle(SKETCH31_R)
        with Locations(Location((-3.5, -90, 0), (0, 0, 270))):  # turned: the seam where the file's is
            Circle(SKETCH31_R)
        with Locations(Location((48.5, -64, 0), (0, 0, 270))):  # turned: the seam where the file's is
            Circle(SKETCH31_R)
        with Locations(Location((48.5, -90, 0), (0, 0, 270))):  # turned: the seam where the file's is
            Circle(SKETCH31_R)
        with Locations(Location((17.5, -108, 0), (0, 0, 270))):  # turned: the seam where the file's is
            Circle(SKETCH31_R_2)
        with Locations(Location((5.5, -108, 0), (0, 0, 270))):  # turned: the seam where the file's is
            Circle(SKETCH31_R_2)
    extrude(amount=-CUT_EXTRUDE12_DEPTH, mode=Mode.SUBTRACT)

    # CSK for M3 Flat Head Machine Screw5
    with Locations(Plane(origin=(0, 0, 0), x_dir=(-1, 0, 0), z_dir=(0, 1, 0))):
        with Locations((-5.5, 108), (-17.5, 108)):
            CounterSinkHole(CSK_FOR_M3_FLAT_HEAD_MACHINE_SCREW5_D / 2, CSK_FOR_M3_FLAT_HEAD_MACHINE_SCREW5_CSINK_D / 2, depth=CSK_FOR_M3_FLAT_HEAD_MACHINE_SCREW5_DEPTH, counter_sink_angle=CSK_FOR_M3_FLAT_HEAD_MACHINE_SCREW5_CSINK_ANGLE)
            with Locations((0, 0, -(CSK_FOR_M3_FLAT_HEAD_MACHINE_SCREW5_DEPTH + CSK_FOR_M3_FLAT_HEAD_MACHINE_SCREW5_TIP / 2))):  # 118° drill point
                Cone(0, CSK_FOR_M3_FLAT_HEAD_MACHINE_SCREW5_D / 2, CSK_FOR_M3_FLAT_HEAD_MACHINE_SCREW5_TIP, mode=Mode.SUBTRACT)


solid = part.part
